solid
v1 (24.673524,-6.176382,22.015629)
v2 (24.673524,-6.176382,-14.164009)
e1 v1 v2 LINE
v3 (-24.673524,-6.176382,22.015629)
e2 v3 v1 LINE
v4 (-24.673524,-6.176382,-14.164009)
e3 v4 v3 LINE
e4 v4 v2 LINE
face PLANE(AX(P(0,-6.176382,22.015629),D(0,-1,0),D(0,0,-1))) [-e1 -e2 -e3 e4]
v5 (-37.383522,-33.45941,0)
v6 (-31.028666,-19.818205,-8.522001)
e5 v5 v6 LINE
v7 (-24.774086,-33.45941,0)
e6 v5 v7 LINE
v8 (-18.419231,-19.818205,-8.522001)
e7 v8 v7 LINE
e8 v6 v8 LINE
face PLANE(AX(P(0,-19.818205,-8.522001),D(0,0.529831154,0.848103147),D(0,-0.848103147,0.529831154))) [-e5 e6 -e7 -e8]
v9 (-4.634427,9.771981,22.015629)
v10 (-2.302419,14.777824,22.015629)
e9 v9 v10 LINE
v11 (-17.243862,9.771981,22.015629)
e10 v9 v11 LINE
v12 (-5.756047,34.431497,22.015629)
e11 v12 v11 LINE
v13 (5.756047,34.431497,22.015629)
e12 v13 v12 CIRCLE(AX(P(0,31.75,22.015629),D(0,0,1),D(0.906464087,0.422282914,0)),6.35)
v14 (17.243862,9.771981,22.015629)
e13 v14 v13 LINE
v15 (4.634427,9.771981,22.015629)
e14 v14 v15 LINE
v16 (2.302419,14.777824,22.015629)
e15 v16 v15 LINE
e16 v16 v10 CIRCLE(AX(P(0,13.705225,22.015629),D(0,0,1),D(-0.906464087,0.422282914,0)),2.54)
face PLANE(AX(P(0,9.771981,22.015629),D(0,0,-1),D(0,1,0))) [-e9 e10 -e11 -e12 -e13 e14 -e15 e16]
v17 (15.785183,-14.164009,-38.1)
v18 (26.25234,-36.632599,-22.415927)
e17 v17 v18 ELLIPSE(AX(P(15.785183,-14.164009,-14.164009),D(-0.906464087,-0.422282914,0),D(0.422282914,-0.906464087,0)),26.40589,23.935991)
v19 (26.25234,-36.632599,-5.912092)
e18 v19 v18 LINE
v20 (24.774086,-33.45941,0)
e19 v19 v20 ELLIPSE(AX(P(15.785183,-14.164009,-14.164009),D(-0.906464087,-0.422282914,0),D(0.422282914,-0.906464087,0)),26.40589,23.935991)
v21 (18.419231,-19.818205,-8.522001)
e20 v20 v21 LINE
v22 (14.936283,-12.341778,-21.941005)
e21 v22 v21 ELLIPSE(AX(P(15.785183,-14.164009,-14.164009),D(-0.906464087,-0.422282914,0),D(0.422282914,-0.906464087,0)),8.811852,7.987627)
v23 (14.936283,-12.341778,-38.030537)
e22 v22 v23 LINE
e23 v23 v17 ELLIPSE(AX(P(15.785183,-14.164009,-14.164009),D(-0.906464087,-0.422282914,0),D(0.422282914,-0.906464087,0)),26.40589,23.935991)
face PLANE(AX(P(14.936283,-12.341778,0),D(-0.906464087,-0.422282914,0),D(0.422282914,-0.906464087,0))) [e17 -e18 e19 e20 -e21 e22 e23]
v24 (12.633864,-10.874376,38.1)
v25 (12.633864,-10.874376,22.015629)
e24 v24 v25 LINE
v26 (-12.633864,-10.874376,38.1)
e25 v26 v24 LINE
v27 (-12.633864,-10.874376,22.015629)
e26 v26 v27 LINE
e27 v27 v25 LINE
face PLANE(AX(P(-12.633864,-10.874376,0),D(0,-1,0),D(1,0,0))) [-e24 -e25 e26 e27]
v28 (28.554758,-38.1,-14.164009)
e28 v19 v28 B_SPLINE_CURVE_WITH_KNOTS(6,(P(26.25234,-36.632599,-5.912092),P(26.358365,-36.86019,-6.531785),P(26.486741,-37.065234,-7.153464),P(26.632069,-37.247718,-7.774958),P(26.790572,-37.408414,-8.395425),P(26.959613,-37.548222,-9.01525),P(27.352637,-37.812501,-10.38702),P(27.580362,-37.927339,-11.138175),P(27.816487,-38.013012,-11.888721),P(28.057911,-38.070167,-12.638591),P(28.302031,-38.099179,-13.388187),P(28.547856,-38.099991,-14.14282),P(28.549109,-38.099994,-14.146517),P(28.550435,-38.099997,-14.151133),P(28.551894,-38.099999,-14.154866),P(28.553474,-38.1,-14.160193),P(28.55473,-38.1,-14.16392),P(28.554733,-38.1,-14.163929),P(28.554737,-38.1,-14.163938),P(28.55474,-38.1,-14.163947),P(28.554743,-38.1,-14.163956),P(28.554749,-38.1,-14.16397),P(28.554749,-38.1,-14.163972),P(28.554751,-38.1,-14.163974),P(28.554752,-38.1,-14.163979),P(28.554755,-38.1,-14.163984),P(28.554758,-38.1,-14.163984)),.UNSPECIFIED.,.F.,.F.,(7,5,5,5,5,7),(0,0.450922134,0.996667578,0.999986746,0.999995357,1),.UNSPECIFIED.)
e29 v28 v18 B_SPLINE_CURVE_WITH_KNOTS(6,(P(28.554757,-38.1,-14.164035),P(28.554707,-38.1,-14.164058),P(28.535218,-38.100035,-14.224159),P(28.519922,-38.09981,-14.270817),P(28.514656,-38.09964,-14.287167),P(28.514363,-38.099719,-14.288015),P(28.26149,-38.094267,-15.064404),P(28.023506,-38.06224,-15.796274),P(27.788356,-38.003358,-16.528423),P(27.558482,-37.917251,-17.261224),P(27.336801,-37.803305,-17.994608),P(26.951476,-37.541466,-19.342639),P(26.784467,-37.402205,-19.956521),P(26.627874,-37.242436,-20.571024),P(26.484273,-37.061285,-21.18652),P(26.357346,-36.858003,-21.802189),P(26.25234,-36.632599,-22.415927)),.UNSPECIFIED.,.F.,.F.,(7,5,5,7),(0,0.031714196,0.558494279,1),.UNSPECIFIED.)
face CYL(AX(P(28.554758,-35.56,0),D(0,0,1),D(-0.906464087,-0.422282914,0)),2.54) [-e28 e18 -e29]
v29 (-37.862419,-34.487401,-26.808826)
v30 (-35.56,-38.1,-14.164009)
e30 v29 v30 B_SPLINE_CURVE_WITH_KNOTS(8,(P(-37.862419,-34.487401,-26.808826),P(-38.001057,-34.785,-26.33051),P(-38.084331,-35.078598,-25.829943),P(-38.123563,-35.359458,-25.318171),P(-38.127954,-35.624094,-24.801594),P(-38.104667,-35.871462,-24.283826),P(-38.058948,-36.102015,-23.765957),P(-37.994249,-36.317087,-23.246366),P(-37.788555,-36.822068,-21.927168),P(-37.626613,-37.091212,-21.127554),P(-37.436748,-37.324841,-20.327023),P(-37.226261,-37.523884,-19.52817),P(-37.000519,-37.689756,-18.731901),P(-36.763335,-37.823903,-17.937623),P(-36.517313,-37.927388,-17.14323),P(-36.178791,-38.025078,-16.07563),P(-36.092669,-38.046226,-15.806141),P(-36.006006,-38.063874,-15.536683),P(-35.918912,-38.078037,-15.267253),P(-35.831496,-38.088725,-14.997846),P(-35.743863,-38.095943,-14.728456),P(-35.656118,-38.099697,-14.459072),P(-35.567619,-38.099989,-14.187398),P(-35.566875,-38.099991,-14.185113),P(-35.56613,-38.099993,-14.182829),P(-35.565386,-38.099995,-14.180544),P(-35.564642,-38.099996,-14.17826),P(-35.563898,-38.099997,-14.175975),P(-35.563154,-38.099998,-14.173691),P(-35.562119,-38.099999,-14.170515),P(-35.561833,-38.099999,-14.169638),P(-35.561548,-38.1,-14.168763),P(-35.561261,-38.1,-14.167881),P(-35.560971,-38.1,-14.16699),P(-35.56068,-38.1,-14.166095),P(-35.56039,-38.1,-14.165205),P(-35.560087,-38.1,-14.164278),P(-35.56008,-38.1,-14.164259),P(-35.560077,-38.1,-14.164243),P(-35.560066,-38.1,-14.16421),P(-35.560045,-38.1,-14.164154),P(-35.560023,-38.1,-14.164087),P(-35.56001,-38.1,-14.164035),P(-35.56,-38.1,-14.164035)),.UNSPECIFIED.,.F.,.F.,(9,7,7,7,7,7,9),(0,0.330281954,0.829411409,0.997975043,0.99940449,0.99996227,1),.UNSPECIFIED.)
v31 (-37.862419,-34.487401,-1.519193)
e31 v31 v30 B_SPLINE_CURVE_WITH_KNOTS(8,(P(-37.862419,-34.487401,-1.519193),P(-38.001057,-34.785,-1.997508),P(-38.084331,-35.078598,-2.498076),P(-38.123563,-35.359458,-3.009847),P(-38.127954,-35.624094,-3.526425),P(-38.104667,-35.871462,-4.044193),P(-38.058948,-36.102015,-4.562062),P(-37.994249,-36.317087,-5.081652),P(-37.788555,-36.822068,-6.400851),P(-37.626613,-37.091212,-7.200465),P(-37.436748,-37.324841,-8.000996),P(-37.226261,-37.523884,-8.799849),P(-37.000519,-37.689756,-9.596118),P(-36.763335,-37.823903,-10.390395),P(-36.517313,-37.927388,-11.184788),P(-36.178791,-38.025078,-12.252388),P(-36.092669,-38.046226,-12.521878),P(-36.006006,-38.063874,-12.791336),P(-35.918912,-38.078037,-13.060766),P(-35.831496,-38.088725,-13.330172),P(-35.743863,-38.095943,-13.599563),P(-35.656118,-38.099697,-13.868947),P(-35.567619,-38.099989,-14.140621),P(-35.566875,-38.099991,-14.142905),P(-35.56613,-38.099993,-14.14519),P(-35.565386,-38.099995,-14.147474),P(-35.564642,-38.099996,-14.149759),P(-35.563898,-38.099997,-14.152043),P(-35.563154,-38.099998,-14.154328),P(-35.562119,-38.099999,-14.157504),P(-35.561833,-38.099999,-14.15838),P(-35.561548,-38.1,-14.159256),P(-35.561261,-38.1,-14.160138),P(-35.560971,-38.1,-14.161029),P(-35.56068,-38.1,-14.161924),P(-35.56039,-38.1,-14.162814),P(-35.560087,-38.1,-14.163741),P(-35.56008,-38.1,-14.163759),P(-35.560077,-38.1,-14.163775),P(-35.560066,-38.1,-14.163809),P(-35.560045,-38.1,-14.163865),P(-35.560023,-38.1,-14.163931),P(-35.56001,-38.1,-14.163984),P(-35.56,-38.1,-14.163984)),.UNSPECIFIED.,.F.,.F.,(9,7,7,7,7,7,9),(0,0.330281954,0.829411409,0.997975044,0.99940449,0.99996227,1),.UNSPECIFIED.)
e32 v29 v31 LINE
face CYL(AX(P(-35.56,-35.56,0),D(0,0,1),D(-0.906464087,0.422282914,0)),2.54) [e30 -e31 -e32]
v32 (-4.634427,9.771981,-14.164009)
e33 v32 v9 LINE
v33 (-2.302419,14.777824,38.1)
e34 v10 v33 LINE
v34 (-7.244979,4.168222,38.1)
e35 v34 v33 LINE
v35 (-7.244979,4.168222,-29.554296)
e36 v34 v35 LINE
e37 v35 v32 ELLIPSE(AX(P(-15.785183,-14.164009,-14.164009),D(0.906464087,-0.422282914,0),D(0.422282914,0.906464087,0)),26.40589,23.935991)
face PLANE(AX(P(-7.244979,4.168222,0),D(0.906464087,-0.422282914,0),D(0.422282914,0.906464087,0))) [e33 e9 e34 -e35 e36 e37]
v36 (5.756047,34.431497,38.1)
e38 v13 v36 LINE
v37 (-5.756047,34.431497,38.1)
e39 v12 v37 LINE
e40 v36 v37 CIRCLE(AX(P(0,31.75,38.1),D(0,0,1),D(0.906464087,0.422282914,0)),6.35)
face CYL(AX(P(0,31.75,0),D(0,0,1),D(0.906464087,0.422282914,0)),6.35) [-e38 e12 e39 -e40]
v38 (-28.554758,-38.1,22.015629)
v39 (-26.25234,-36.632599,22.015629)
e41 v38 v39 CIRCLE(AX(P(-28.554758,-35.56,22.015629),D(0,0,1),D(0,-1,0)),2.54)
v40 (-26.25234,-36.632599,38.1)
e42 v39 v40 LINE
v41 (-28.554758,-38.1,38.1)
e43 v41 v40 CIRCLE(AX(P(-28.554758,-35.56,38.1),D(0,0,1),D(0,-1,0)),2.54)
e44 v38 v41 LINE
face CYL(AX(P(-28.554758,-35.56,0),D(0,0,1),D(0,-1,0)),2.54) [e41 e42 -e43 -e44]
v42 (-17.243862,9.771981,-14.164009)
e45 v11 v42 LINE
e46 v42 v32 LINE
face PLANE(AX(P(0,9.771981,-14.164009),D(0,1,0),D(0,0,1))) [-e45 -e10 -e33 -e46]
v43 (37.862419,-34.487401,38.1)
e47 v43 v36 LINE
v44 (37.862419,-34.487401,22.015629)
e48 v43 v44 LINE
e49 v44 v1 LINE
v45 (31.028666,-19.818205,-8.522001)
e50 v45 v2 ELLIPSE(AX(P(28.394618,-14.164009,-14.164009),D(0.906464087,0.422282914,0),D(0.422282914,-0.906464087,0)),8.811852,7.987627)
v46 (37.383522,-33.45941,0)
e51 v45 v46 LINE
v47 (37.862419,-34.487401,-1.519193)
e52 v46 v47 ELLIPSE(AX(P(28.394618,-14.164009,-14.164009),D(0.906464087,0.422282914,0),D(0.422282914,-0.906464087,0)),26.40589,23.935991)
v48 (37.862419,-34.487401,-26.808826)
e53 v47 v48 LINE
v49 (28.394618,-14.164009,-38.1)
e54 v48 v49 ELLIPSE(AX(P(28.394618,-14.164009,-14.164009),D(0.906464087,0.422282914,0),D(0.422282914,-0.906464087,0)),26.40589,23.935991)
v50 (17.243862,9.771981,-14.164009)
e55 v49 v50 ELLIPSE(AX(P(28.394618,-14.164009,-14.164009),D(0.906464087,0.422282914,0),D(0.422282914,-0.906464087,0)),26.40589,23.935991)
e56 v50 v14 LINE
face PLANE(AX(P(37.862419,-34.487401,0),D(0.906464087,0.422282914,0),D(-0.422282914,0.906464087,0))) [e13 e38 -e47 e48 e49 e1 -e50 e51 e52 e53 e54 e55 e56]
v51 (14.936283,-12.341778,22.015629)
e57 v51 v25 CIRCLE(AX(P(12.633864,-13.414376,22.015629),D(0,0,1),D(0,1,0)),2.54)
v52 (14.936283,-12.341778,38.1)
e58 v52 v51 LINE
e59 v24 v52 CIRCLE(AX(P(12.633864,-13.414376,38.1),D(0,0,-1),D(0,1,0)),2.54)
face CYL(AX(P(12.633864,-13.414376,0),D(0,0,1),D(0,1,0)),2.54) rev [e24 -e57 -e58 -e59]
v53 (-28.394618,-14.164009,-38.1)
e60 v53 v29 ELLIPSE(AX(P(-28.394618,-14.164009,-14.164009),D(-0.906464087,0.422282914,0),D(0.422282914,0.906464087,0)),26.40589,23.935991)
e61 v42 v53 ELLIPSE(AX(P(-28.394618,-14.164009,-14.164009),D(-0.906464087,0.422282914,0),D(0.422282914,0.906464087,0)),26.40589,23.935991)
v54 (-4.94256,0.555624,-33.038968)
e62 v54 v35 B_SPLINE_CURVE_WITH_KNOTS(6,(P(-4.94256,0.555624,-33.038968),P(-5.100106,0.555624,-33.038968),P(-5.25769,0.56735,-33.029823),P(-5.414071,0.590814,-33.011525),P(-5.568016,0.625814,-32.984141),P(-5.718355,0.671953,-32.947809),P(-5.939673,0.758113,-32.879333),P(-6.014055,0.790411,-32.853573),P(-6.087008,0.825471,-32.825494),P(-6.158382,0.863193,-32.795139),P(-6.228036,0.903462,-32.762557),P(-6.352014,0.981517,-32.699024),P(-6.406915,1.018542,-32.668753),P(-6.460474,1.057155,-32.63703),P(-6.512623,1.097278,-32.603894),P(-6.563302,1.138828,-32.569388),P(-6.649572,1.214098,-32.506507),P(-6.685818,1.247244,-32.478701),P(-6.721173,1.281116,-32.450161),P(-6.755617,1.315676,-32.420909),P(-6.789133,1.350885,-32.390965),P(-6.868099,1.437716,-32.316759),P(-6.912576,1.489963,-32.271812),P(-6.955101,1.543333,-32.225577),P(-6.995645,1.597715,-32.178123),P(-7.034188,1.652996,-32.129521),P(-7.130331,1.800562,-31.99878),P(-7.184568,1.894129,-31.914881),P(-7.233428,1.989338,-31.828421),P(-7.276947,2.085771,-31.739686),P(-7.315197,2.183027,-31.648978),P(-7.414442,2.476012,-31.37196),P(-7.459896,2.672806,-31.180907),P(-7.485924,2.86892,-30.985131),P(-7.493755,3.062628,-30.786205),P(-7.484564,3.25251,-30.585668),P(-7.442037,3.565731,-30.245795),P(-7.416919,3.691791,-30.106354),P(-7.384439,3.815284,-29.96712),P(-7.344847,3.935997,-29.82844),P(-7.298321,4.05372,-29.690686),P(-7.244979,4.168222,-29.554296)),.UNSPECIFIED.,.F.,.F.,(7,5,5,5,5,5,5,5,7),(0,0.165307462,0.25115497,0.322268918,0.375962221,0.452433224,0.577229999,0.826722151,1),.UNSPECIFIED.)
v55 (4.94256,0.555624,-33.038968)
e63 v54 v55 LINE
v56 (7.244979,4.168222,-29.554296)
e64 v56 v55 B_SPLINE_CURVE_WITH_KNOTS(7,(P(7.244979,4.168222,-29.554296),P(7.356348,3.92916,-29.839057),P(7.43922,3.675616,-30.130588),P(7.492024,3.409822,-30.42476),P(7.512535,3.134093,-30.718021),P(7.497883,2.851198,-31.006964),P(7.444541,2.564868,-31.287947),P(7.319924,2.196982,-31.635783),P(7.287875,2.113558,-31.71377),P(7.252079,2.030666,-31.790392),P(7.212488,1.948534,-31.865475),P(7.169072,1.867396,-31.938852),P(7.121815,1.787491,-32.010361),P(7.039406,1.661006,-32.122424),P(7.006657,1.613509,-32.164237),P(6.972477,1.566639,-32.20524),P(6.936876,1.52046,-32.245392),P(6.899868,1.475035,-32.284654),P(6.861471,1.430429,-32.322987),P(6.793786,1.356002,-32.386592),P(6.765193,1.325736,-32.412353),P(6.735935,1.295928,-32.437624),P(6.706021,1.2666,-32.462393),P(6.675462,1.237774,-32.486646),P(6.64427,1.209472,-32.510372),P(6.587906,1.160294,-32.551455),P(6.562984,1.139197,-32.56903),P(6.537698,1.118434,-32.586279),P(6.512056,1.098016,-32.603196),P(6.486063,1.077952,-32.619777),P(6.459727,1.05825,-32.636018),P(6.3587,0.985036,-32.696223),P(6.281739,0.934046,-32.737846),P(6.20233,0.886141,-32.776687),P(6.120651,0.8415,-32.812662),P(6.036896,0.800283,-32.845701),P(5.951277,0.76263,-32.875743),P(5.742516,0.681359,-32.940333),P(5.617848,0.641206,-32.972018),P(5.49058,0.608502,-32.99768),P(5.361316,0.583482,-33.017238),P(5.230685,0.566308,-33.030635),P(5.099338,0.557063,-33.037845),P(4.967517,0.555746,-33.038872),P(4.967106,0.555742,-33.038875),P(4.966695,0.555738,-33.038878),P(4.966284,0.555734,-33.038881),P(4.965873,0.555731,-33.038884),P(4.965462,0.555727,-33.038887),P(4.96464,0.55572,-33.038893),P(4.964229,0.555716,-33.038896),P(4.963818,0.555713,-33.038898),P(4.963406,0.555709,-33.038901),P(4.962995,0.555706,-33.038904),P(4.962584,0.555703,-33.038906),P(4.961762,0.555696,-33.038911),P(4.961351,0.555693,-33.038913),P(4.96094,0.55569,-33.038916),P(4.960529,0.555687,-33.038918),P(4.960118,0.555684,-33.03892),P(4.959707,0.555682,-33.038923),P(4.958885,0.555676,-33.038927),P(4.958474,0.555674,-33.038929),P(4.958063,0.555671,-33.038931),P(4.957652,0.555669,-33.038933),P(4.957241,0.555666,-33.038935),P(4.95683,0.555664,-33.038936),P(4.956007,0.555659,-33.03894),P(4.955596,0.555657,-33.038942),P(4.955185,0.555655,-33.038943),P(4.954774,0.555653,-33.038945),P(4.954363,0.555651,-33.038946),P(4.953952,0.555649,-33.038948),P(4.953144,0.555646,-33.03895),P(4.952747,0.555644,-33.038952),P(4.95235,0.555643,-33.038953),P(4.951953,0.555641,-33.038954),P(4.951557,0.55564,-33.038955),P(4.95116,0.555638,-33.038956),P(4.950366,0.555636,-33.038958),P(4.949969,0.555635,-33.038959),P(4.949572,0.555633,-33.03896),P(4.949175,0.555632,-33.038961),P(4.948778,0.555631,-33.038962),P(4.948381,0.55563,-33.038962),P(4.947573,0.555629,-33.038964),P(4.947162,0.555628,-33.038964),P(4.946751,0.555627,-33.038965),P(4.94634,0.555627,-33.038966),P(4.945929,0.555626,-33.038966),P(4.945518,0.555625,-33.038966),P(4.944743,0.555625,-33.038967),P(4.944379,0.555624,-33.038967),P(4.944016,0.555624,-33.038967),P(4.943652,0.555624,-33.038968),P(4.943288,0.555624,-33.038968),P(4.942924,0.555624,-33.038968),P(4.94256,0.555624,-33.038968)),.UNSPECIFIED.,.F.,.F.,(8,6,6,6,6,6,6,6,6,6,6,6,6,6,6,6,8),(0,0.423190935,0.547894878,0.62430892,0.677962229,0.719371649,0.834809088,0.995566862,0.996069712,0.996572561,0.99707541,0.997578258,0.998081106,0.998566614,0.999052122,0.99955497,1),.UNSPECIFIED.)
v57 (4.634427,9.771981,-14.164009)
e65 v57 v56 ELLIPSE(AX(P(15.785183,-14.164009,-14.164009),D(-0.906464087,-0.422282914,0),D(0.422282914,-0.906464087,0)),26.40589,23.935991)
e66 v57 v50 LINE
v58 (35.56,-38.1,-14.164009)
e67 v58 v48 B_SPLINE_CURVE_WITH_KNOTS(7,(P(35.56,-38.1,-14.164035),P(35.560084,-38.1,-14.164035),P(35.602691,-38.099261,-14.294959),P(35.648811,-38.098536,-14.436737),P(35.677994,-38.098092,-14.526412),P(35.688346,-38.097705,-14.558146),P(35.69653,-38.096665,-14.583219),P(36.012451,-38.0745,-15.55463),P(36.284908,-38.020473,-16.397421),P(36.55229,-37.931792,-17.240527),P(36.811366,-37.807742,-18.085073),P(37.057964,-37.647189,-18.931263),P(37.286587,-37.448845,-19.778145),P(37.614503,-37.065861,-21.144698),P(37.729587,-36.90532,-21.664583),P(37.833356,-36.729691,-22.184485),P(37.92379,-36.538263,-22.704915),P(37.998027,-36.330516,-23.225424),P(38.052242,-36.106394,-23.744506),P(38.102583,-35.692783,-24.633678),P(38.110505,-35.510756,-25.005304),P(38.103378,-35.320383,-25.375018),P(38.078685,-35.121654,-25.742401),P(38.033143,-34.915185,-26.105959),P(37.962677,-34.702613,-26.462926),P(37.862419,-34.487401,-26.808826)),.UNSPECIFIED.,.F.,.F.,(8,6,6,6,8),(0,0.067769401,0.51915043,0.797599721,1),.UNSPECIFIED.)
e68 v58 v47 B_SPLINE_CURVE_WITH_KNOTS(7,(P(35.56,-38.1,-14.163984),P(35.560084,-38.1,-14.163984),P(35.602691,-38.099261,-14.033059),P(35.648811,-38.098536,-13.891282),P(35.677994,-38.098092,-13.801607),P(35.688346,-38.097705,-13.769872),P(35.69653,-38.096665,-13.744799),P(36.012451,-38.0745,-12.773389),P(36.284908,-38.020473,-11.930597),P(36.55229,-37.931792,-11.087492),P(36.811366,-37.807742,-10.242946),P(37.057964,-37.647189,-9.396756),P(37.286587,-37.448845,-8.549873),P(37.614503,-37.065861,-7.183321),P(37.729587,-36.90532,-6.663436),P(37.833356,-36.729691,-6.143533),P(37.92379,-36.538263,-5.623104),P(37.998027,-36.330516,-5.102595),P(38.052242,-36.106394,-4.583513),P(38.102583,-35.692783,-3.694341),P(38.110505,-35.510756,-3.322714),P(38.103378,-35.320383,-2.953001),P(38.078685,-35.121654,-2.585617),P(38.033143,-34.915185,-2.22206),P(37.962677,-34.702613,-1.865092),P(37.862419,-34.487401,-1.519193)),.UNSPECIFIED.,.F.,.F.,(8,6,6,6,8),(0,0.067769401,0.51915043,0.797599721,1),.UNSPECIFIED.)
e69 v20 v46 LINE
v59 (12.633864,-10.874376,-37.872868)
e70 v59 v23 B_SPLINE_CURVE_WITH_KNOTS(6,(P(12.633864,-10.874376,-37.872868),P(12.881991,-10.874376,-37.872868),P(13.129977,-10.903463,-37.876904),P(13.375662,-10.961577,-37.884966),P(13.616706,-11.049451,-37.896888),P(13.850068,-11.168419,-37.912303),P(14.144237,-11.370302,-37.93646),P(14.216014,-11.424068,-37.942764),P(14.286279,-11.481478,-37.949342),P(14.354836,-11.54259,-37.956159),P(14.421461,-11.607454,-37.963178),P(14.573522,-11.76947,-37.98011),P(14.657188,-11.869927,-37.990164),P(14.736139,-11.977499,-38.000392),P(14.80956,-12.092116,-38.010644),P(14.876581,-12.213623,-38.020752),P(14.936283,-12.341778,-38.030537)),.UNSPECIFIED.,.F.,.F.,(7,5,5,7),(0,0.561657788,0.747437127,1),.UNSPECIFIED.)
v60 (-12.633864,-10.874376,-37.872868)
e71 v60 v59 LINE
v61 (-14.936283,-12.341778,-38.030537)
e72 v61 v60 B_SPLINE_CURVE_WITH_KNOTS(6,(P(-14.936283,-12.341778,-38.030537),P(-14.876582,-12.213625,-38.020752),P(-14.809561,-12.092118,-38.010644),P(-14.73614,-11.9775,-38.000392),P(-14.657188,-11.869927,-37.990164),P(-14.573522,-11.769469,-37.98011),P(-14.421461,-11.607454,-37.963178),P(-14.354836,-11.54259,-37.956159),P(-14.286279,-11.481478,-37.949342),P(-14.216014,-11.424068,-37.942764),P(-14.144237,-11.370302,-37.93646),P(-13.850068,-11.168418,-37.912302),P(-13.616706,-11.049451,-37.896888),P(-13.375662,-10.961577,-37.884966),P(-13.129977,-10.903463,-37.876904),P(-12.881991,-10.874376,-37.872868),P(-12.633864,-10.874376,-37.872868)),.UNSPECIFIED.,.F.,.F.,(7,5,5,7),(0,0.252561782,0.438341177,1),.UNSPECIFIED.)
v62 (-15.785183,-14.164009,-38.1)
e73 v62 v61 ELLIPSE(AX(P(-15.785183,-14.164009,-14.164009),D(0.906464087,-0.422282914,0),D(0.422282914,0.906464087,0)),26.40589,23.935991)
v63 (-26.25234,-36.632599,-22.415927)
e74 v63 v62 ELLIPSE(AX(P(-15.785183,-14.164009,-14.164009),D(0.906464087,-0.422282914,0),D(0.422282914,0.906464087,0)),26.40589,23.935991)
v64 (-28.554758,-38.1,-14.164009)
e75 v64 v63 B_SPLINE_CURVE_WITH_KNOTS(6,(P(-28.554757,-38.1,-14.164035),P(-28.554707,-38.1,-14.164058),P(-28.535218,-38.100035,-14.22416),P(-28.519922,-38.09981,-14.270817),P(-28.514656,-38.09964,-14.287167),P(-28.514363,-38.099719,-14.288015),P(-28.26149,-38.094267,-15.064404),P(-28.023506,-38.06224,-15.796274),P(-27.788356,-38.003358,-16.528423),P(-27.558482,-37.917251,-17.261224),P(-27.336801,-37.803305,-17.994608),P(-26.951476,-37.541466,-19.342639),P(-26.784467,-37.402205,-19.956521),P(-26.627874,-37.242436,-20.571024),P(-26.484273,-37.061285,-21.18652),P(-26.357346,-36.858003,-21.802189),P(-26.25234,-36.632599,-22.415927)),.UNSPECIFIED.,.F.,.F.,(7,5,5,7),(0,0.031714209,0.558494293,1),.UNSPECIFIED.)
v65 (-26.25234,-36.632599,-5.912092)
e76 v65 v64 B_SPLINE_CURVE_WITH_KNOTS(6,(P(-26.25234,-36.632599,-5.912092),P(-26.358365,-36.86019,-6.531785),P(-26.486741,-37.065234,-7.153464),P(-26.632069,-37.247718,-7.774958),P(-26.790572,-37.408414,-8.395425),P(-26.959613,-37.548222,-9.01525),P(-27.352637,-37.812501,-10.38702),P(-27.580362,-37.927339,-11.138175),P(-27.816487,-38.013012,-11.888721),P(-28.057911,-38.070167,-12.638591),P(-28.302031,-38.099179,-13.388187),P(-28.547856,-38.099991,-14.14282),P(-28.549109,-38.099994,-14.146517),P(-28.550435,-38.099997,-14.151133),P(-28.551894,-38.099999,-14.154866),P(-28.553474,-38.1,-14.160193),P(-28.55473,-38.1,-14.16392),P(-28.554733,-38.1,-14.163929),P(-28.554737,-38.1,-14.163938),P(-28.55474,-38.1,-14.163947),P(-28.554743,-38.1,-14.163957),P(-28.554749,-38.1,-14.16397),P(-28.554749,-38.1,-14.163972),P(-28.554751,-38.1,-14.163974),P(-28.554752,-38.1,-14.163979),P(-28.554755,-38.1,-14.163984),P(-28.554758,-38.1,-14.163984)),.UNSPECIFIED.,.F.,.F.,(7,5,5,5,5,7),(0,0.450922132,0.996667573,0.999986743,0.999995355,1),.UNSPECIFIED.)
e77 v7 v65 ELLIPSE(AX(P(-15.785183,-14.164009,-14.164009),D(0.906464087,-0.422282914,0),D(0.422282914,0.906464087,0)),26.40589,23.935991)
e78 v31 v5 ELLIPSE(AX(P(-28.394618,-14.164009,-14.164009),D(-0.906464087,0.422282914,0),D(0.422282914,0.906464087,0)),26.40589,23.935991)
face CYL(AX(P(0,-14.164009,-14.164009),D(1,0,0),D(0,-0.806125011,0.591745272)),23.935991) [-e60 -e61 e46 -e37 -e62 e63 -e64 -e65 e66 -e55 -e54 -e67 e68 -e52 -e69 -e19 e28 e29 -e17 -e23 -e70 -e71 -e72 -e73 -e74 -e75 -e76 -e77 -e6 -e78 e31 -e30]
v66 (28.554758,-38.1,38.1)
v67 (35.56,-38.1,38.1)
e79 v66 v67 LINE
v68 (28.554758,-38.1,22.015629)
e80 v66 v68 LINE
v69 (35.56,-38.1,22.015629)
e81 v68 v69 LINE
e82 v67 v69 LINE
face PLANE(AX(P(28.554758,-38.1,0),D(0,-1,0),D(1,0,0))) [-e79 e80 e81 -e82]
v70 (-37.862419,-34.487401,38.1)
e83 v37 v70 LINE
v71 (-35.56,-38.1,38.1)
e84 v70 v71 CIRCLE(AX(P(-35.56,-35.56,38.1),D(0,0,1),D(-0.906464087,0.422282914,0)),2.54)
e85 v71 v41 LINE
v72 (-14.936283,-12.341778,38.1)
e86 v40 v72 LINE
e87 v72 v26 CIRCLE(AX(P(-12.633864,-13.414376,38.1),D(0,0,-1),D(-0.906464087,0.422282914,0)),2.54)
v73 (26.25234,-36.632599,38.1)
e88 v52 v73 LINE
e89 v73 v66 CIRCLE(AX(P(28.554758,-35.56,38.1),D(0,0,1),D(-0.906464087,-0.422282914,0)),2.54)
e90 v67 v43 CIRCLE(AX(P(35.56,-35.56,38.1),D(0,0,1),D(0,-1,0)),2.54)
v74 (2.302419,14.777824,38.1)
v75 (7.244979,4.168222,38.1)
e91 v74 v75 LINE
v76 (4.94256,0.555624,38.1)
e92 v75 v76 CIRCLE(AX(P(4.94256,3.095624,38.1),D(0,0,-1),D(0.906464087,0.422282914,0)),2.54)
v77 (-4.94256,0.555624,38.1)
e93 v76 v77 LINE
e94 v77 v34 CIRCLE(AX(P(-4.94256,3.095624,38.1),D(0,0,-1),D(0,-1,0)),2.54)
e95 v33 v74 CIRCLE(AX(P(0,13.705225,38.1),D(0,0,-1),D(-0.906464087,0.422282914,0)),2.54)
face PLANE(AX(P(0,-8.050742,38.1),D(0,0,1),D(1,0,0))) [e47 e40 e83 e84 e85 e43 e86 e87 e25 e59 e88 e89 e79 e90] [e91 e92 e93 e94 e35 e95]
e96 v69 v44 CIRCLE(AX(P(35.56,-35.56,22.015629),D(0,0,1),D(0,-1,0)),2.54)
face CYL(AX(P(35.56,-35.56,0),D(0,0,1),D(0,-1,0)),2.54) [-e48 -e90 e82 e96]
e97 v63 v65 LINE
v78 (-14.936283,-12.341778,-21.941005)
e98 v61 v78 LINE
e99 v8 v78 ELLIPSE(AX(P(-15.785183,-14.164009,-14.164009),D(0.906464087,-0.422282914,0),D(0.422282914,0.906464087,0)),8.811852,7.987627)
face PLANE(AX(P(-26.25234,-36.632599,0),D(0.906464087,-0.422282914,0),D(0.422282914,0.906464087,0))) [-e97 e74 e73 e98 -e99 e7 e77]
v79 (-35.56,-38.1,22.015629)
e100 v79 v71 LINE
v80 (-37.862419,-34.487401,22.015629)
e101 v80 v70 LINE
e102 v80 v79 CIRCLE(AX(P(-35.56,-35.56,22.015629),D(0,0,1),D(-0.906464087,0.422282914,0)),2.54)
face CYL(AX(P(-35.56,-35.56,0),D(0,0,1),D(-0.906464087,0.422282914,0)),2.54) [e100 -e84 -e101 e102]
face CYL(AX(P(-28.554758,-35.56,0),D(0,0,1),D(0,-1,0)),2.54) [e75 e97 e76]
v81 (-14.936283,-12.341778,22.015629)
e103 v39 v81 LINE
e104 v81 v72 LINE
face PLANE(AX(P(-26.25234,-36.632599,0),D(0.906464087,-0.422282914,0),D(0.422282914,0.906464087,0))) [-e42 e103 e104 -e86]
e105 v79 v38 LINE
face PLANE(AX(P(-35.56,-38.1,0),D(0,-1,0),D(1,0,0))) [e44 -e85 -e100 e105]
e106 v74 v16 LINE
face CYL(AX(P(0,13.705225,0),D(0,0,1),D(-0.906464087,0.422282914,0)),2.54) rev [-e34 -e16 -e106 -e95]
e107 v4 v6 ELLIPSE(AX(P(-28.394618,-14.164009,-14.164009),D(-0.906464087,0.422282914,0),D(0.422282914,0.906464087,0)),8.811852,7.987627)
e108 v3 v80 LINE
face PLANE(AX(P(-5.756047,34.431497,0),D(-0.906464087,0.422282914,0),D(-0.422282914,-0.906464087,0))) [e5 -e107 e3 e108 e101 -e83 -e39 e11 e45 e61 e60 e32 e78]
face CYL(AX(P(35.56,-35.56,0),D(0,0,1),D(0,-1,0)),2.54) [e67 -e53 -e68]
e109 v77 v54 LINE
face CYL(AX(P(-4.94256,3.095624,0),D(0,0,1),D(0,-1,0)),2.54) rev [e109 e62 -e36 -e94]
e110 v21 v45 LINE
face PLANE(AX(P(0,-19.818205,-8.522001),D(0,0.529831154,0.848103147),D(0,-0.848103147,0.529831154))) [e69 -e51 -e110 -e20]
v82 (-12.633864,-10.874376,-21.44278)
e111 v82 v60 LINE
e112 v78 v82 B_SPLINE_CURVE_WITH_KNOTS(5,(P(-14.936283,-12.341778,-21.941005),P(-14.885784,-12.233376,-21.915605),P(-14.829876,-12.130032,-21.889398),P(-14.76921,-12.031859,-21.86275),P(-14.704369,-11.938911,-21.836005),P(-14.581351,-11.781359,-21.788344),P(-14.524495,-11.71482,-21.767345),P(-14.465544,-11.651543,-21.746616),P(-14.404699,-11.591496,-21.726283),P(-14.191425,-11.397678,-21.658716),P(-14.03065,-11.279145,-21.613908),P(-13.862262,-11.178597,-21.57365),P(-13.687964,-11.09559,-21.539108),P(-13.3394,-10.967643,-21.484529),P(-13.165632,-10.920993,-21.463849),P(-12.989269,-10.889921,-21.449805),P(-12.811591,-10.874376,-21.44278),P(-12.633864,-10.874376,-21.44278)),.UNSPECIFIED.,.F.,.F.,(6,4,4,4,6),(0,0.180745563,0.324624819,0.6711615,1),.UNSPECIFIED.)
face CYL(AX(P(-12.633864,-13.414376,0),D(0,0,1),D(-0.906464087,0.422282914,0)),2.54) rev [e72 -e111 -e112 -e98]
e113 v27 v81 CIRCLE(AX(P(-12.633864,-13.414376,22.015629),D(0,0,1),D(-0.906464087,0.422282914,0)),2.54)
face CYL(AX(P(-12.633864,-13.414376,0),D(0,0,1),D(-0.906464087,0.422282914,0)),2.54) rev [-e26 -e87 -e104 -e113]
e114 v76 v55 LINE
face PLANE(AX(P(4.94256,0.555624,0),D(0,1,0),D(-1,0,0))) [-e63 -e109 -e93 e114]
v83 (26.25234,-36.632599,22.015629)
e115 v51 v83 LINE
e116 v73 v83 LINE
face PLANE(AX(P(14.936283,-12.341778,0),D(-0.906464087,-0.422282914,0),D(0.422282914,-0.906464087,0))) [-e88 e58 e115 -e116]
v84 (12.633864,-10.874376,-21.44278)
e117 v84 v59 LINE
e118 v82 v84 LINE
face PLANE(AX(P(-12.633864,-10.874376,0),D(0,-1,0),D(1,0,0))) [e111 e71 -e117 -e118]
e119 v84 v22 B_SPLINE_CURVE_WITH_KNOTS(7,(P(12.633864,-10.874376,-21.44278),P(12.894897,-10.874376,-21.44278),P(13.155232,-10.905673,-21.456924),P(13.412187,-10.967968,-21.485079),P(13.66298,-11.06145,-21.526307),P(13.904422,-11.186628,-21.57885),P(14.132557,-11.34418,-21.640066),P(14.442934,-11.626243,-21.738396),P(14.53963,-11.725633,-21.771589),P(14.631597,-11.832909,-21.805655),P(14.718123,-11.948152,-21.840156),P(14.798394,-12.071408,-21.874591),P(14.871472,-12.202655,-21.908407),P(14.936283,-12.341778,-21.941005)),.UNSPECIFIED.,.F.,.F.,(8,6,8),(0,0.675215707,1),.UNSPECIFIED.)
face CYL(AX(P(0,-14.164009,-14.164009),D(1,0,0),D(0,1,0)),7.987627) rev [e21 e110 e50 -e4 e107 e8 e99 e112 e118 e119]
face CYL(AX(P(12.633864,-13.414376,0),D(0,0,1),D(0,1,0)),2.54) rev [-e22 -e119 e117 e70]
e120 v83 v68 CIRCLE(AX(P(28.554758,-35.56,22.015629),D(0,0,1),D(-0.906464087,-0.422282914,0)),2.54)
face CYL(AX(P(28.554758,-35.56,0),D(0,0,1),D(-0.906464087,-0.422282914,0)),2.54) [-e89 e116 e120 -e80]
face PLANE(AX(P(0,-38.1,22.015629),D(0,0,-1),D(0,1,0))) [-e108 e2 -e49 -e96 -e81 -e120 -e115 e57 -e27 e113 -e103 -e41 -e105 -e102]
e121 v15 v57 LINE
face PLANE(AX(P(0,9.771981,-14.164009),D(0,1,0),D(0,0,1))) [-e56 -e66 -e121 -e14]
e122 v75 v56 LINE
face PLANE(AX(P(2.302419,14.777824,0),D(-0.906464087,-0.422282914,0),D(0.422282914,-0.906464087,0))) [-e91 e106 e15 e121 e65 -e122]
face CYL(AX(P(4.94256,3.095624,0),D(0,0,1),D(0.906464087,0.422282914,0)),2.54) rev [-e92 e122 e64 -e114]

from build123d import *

# Parameters (mm, degrees)
F1_DEPTH = 38.1
F4_DEPTH = 63.5


with BuildPart() as f1:
    # F0 (on Top) → F1 (new body, symmetric)
    with BuildSketch(Plane.XY):
        with BuildLine():
            Line((37.8624187806, -34.487401399), (5.7560469514, 34.4314965026))
            ThreePointArc((5.7560469514, 34.4314965026), (0, 38.1), (-5.7560469514, 34.4314965026))
            Line((-5.7560469514, 34.4314965026), (-37.8624187806, -34.487401399))
            ThreePointArc((-37.8624187806, -34.487401399), (-37.7019617698, -36.9251372739), (-35.56, -38.1))
            Line((-35.56, -38.1), (-28.5547583227, -38.1))
            ThreePointArc((-28.5547583227, -38.1), (-27.1896210488, -37.7019617698), (-26.2523395422, -36.632598601))
            Line((-26.2523395422, -36.632598601), (-14.9362832259, -12.3417776368))
            ThreePointArc((-14.9362832259, -12.3417776368), (-13.9990017193, -11.2724144681), (-12.6338644453, -10.8743762379))
            Line((-12.6338644453, -10.8743762379), (12.6338644453, -10.8743762379))
            ThreePointArc((12.6338644453, -10.8743762379), (13.9990017193, -11.2724144681), (14.9362832259, -12.3417776368))
            Line((14.9362832259, -12.3417776368), (26.2523395422, -36.632598601))
            ThreePointArc((26.2523395422, -36.632598601), (27.1896210488, -37.7019617698), (28.5547583227, -38.1))
            Line((28.5547583227, -38.1), (35.56, -38.1))
            ThreePointArc((35.56, -38.1), (37.7019617698, -36.9251372739), (37.8624187806, -34.487401399))
        make_face()
        with BuildLine():
            ThreePointArc((-2.3024187806, 14.7778239937), (0, 16.2452253927), (2.3024187806, 14.7778239937))
            Line((2.3024187806, 14.7778239937), (7.2449791708, 4.1682223632))
            ThreePointArc((7.2449791708, 4.1682223632), (7.0845221601, 1.7304864882), (4.9425603903, 0.5556237621))
            Line((4.9425603903, 0.5556237621), (-4.9425603903, 0.5556237621))
            ThreePointArc((-4.9425603903, 0.5556237621), (-7.0845221601, 1.7304864882), (-7.2449791708, 4.1682223632))
            Line((-7.2449791708, 4.1682223632), (-2.3024187806, 14.7778239937))
        make_face(mode=Mode.SUBTRACT)
    extrude(amount=F1_DEPTH, both=True)

    # F3 (on Right) → F4 (intersect, symmetric)
    with BuildSketch(Plane.YZ):
        with BuildLine():
            Line((38.1, 38.1), (-38.1, 38.1))
            Line((-38.1, 38.1), (-38.1, 22.0156293362))
            Line((-38.1, 22.0156293362), (-6.1763821984, 22.0156293362))
            Line((-6.1763821984, 22.0156293362), (-6.1763821984, -14.164009311))
            ThreePointArc((-6.1763821984, -14.164009311), (-17.2167607386, -21.5452622947), (-19.8182046927, -8.5220006727))
            Line((-19.8182046927, -8.5220006727), (-33.4594100714, 0))
            ThreePointArc((-33.4594100714, 0), (-21.6164289624, -36.9102857448), (9.7719813781, -14.164009311))
            Line((9.7719813781, -14.164009311), (9.7719813781, 22.0156293362))
            Line((9.7719813781, 22.0156293362), (38.1, 22.0156293362))
            Line((38.1, 22.0156293362), (38.1, 38.1))
        make_face()
    extrude(amount=F4_DEPTH, both=True, mode=Mode.INTERSECT)


solid = f1.part
